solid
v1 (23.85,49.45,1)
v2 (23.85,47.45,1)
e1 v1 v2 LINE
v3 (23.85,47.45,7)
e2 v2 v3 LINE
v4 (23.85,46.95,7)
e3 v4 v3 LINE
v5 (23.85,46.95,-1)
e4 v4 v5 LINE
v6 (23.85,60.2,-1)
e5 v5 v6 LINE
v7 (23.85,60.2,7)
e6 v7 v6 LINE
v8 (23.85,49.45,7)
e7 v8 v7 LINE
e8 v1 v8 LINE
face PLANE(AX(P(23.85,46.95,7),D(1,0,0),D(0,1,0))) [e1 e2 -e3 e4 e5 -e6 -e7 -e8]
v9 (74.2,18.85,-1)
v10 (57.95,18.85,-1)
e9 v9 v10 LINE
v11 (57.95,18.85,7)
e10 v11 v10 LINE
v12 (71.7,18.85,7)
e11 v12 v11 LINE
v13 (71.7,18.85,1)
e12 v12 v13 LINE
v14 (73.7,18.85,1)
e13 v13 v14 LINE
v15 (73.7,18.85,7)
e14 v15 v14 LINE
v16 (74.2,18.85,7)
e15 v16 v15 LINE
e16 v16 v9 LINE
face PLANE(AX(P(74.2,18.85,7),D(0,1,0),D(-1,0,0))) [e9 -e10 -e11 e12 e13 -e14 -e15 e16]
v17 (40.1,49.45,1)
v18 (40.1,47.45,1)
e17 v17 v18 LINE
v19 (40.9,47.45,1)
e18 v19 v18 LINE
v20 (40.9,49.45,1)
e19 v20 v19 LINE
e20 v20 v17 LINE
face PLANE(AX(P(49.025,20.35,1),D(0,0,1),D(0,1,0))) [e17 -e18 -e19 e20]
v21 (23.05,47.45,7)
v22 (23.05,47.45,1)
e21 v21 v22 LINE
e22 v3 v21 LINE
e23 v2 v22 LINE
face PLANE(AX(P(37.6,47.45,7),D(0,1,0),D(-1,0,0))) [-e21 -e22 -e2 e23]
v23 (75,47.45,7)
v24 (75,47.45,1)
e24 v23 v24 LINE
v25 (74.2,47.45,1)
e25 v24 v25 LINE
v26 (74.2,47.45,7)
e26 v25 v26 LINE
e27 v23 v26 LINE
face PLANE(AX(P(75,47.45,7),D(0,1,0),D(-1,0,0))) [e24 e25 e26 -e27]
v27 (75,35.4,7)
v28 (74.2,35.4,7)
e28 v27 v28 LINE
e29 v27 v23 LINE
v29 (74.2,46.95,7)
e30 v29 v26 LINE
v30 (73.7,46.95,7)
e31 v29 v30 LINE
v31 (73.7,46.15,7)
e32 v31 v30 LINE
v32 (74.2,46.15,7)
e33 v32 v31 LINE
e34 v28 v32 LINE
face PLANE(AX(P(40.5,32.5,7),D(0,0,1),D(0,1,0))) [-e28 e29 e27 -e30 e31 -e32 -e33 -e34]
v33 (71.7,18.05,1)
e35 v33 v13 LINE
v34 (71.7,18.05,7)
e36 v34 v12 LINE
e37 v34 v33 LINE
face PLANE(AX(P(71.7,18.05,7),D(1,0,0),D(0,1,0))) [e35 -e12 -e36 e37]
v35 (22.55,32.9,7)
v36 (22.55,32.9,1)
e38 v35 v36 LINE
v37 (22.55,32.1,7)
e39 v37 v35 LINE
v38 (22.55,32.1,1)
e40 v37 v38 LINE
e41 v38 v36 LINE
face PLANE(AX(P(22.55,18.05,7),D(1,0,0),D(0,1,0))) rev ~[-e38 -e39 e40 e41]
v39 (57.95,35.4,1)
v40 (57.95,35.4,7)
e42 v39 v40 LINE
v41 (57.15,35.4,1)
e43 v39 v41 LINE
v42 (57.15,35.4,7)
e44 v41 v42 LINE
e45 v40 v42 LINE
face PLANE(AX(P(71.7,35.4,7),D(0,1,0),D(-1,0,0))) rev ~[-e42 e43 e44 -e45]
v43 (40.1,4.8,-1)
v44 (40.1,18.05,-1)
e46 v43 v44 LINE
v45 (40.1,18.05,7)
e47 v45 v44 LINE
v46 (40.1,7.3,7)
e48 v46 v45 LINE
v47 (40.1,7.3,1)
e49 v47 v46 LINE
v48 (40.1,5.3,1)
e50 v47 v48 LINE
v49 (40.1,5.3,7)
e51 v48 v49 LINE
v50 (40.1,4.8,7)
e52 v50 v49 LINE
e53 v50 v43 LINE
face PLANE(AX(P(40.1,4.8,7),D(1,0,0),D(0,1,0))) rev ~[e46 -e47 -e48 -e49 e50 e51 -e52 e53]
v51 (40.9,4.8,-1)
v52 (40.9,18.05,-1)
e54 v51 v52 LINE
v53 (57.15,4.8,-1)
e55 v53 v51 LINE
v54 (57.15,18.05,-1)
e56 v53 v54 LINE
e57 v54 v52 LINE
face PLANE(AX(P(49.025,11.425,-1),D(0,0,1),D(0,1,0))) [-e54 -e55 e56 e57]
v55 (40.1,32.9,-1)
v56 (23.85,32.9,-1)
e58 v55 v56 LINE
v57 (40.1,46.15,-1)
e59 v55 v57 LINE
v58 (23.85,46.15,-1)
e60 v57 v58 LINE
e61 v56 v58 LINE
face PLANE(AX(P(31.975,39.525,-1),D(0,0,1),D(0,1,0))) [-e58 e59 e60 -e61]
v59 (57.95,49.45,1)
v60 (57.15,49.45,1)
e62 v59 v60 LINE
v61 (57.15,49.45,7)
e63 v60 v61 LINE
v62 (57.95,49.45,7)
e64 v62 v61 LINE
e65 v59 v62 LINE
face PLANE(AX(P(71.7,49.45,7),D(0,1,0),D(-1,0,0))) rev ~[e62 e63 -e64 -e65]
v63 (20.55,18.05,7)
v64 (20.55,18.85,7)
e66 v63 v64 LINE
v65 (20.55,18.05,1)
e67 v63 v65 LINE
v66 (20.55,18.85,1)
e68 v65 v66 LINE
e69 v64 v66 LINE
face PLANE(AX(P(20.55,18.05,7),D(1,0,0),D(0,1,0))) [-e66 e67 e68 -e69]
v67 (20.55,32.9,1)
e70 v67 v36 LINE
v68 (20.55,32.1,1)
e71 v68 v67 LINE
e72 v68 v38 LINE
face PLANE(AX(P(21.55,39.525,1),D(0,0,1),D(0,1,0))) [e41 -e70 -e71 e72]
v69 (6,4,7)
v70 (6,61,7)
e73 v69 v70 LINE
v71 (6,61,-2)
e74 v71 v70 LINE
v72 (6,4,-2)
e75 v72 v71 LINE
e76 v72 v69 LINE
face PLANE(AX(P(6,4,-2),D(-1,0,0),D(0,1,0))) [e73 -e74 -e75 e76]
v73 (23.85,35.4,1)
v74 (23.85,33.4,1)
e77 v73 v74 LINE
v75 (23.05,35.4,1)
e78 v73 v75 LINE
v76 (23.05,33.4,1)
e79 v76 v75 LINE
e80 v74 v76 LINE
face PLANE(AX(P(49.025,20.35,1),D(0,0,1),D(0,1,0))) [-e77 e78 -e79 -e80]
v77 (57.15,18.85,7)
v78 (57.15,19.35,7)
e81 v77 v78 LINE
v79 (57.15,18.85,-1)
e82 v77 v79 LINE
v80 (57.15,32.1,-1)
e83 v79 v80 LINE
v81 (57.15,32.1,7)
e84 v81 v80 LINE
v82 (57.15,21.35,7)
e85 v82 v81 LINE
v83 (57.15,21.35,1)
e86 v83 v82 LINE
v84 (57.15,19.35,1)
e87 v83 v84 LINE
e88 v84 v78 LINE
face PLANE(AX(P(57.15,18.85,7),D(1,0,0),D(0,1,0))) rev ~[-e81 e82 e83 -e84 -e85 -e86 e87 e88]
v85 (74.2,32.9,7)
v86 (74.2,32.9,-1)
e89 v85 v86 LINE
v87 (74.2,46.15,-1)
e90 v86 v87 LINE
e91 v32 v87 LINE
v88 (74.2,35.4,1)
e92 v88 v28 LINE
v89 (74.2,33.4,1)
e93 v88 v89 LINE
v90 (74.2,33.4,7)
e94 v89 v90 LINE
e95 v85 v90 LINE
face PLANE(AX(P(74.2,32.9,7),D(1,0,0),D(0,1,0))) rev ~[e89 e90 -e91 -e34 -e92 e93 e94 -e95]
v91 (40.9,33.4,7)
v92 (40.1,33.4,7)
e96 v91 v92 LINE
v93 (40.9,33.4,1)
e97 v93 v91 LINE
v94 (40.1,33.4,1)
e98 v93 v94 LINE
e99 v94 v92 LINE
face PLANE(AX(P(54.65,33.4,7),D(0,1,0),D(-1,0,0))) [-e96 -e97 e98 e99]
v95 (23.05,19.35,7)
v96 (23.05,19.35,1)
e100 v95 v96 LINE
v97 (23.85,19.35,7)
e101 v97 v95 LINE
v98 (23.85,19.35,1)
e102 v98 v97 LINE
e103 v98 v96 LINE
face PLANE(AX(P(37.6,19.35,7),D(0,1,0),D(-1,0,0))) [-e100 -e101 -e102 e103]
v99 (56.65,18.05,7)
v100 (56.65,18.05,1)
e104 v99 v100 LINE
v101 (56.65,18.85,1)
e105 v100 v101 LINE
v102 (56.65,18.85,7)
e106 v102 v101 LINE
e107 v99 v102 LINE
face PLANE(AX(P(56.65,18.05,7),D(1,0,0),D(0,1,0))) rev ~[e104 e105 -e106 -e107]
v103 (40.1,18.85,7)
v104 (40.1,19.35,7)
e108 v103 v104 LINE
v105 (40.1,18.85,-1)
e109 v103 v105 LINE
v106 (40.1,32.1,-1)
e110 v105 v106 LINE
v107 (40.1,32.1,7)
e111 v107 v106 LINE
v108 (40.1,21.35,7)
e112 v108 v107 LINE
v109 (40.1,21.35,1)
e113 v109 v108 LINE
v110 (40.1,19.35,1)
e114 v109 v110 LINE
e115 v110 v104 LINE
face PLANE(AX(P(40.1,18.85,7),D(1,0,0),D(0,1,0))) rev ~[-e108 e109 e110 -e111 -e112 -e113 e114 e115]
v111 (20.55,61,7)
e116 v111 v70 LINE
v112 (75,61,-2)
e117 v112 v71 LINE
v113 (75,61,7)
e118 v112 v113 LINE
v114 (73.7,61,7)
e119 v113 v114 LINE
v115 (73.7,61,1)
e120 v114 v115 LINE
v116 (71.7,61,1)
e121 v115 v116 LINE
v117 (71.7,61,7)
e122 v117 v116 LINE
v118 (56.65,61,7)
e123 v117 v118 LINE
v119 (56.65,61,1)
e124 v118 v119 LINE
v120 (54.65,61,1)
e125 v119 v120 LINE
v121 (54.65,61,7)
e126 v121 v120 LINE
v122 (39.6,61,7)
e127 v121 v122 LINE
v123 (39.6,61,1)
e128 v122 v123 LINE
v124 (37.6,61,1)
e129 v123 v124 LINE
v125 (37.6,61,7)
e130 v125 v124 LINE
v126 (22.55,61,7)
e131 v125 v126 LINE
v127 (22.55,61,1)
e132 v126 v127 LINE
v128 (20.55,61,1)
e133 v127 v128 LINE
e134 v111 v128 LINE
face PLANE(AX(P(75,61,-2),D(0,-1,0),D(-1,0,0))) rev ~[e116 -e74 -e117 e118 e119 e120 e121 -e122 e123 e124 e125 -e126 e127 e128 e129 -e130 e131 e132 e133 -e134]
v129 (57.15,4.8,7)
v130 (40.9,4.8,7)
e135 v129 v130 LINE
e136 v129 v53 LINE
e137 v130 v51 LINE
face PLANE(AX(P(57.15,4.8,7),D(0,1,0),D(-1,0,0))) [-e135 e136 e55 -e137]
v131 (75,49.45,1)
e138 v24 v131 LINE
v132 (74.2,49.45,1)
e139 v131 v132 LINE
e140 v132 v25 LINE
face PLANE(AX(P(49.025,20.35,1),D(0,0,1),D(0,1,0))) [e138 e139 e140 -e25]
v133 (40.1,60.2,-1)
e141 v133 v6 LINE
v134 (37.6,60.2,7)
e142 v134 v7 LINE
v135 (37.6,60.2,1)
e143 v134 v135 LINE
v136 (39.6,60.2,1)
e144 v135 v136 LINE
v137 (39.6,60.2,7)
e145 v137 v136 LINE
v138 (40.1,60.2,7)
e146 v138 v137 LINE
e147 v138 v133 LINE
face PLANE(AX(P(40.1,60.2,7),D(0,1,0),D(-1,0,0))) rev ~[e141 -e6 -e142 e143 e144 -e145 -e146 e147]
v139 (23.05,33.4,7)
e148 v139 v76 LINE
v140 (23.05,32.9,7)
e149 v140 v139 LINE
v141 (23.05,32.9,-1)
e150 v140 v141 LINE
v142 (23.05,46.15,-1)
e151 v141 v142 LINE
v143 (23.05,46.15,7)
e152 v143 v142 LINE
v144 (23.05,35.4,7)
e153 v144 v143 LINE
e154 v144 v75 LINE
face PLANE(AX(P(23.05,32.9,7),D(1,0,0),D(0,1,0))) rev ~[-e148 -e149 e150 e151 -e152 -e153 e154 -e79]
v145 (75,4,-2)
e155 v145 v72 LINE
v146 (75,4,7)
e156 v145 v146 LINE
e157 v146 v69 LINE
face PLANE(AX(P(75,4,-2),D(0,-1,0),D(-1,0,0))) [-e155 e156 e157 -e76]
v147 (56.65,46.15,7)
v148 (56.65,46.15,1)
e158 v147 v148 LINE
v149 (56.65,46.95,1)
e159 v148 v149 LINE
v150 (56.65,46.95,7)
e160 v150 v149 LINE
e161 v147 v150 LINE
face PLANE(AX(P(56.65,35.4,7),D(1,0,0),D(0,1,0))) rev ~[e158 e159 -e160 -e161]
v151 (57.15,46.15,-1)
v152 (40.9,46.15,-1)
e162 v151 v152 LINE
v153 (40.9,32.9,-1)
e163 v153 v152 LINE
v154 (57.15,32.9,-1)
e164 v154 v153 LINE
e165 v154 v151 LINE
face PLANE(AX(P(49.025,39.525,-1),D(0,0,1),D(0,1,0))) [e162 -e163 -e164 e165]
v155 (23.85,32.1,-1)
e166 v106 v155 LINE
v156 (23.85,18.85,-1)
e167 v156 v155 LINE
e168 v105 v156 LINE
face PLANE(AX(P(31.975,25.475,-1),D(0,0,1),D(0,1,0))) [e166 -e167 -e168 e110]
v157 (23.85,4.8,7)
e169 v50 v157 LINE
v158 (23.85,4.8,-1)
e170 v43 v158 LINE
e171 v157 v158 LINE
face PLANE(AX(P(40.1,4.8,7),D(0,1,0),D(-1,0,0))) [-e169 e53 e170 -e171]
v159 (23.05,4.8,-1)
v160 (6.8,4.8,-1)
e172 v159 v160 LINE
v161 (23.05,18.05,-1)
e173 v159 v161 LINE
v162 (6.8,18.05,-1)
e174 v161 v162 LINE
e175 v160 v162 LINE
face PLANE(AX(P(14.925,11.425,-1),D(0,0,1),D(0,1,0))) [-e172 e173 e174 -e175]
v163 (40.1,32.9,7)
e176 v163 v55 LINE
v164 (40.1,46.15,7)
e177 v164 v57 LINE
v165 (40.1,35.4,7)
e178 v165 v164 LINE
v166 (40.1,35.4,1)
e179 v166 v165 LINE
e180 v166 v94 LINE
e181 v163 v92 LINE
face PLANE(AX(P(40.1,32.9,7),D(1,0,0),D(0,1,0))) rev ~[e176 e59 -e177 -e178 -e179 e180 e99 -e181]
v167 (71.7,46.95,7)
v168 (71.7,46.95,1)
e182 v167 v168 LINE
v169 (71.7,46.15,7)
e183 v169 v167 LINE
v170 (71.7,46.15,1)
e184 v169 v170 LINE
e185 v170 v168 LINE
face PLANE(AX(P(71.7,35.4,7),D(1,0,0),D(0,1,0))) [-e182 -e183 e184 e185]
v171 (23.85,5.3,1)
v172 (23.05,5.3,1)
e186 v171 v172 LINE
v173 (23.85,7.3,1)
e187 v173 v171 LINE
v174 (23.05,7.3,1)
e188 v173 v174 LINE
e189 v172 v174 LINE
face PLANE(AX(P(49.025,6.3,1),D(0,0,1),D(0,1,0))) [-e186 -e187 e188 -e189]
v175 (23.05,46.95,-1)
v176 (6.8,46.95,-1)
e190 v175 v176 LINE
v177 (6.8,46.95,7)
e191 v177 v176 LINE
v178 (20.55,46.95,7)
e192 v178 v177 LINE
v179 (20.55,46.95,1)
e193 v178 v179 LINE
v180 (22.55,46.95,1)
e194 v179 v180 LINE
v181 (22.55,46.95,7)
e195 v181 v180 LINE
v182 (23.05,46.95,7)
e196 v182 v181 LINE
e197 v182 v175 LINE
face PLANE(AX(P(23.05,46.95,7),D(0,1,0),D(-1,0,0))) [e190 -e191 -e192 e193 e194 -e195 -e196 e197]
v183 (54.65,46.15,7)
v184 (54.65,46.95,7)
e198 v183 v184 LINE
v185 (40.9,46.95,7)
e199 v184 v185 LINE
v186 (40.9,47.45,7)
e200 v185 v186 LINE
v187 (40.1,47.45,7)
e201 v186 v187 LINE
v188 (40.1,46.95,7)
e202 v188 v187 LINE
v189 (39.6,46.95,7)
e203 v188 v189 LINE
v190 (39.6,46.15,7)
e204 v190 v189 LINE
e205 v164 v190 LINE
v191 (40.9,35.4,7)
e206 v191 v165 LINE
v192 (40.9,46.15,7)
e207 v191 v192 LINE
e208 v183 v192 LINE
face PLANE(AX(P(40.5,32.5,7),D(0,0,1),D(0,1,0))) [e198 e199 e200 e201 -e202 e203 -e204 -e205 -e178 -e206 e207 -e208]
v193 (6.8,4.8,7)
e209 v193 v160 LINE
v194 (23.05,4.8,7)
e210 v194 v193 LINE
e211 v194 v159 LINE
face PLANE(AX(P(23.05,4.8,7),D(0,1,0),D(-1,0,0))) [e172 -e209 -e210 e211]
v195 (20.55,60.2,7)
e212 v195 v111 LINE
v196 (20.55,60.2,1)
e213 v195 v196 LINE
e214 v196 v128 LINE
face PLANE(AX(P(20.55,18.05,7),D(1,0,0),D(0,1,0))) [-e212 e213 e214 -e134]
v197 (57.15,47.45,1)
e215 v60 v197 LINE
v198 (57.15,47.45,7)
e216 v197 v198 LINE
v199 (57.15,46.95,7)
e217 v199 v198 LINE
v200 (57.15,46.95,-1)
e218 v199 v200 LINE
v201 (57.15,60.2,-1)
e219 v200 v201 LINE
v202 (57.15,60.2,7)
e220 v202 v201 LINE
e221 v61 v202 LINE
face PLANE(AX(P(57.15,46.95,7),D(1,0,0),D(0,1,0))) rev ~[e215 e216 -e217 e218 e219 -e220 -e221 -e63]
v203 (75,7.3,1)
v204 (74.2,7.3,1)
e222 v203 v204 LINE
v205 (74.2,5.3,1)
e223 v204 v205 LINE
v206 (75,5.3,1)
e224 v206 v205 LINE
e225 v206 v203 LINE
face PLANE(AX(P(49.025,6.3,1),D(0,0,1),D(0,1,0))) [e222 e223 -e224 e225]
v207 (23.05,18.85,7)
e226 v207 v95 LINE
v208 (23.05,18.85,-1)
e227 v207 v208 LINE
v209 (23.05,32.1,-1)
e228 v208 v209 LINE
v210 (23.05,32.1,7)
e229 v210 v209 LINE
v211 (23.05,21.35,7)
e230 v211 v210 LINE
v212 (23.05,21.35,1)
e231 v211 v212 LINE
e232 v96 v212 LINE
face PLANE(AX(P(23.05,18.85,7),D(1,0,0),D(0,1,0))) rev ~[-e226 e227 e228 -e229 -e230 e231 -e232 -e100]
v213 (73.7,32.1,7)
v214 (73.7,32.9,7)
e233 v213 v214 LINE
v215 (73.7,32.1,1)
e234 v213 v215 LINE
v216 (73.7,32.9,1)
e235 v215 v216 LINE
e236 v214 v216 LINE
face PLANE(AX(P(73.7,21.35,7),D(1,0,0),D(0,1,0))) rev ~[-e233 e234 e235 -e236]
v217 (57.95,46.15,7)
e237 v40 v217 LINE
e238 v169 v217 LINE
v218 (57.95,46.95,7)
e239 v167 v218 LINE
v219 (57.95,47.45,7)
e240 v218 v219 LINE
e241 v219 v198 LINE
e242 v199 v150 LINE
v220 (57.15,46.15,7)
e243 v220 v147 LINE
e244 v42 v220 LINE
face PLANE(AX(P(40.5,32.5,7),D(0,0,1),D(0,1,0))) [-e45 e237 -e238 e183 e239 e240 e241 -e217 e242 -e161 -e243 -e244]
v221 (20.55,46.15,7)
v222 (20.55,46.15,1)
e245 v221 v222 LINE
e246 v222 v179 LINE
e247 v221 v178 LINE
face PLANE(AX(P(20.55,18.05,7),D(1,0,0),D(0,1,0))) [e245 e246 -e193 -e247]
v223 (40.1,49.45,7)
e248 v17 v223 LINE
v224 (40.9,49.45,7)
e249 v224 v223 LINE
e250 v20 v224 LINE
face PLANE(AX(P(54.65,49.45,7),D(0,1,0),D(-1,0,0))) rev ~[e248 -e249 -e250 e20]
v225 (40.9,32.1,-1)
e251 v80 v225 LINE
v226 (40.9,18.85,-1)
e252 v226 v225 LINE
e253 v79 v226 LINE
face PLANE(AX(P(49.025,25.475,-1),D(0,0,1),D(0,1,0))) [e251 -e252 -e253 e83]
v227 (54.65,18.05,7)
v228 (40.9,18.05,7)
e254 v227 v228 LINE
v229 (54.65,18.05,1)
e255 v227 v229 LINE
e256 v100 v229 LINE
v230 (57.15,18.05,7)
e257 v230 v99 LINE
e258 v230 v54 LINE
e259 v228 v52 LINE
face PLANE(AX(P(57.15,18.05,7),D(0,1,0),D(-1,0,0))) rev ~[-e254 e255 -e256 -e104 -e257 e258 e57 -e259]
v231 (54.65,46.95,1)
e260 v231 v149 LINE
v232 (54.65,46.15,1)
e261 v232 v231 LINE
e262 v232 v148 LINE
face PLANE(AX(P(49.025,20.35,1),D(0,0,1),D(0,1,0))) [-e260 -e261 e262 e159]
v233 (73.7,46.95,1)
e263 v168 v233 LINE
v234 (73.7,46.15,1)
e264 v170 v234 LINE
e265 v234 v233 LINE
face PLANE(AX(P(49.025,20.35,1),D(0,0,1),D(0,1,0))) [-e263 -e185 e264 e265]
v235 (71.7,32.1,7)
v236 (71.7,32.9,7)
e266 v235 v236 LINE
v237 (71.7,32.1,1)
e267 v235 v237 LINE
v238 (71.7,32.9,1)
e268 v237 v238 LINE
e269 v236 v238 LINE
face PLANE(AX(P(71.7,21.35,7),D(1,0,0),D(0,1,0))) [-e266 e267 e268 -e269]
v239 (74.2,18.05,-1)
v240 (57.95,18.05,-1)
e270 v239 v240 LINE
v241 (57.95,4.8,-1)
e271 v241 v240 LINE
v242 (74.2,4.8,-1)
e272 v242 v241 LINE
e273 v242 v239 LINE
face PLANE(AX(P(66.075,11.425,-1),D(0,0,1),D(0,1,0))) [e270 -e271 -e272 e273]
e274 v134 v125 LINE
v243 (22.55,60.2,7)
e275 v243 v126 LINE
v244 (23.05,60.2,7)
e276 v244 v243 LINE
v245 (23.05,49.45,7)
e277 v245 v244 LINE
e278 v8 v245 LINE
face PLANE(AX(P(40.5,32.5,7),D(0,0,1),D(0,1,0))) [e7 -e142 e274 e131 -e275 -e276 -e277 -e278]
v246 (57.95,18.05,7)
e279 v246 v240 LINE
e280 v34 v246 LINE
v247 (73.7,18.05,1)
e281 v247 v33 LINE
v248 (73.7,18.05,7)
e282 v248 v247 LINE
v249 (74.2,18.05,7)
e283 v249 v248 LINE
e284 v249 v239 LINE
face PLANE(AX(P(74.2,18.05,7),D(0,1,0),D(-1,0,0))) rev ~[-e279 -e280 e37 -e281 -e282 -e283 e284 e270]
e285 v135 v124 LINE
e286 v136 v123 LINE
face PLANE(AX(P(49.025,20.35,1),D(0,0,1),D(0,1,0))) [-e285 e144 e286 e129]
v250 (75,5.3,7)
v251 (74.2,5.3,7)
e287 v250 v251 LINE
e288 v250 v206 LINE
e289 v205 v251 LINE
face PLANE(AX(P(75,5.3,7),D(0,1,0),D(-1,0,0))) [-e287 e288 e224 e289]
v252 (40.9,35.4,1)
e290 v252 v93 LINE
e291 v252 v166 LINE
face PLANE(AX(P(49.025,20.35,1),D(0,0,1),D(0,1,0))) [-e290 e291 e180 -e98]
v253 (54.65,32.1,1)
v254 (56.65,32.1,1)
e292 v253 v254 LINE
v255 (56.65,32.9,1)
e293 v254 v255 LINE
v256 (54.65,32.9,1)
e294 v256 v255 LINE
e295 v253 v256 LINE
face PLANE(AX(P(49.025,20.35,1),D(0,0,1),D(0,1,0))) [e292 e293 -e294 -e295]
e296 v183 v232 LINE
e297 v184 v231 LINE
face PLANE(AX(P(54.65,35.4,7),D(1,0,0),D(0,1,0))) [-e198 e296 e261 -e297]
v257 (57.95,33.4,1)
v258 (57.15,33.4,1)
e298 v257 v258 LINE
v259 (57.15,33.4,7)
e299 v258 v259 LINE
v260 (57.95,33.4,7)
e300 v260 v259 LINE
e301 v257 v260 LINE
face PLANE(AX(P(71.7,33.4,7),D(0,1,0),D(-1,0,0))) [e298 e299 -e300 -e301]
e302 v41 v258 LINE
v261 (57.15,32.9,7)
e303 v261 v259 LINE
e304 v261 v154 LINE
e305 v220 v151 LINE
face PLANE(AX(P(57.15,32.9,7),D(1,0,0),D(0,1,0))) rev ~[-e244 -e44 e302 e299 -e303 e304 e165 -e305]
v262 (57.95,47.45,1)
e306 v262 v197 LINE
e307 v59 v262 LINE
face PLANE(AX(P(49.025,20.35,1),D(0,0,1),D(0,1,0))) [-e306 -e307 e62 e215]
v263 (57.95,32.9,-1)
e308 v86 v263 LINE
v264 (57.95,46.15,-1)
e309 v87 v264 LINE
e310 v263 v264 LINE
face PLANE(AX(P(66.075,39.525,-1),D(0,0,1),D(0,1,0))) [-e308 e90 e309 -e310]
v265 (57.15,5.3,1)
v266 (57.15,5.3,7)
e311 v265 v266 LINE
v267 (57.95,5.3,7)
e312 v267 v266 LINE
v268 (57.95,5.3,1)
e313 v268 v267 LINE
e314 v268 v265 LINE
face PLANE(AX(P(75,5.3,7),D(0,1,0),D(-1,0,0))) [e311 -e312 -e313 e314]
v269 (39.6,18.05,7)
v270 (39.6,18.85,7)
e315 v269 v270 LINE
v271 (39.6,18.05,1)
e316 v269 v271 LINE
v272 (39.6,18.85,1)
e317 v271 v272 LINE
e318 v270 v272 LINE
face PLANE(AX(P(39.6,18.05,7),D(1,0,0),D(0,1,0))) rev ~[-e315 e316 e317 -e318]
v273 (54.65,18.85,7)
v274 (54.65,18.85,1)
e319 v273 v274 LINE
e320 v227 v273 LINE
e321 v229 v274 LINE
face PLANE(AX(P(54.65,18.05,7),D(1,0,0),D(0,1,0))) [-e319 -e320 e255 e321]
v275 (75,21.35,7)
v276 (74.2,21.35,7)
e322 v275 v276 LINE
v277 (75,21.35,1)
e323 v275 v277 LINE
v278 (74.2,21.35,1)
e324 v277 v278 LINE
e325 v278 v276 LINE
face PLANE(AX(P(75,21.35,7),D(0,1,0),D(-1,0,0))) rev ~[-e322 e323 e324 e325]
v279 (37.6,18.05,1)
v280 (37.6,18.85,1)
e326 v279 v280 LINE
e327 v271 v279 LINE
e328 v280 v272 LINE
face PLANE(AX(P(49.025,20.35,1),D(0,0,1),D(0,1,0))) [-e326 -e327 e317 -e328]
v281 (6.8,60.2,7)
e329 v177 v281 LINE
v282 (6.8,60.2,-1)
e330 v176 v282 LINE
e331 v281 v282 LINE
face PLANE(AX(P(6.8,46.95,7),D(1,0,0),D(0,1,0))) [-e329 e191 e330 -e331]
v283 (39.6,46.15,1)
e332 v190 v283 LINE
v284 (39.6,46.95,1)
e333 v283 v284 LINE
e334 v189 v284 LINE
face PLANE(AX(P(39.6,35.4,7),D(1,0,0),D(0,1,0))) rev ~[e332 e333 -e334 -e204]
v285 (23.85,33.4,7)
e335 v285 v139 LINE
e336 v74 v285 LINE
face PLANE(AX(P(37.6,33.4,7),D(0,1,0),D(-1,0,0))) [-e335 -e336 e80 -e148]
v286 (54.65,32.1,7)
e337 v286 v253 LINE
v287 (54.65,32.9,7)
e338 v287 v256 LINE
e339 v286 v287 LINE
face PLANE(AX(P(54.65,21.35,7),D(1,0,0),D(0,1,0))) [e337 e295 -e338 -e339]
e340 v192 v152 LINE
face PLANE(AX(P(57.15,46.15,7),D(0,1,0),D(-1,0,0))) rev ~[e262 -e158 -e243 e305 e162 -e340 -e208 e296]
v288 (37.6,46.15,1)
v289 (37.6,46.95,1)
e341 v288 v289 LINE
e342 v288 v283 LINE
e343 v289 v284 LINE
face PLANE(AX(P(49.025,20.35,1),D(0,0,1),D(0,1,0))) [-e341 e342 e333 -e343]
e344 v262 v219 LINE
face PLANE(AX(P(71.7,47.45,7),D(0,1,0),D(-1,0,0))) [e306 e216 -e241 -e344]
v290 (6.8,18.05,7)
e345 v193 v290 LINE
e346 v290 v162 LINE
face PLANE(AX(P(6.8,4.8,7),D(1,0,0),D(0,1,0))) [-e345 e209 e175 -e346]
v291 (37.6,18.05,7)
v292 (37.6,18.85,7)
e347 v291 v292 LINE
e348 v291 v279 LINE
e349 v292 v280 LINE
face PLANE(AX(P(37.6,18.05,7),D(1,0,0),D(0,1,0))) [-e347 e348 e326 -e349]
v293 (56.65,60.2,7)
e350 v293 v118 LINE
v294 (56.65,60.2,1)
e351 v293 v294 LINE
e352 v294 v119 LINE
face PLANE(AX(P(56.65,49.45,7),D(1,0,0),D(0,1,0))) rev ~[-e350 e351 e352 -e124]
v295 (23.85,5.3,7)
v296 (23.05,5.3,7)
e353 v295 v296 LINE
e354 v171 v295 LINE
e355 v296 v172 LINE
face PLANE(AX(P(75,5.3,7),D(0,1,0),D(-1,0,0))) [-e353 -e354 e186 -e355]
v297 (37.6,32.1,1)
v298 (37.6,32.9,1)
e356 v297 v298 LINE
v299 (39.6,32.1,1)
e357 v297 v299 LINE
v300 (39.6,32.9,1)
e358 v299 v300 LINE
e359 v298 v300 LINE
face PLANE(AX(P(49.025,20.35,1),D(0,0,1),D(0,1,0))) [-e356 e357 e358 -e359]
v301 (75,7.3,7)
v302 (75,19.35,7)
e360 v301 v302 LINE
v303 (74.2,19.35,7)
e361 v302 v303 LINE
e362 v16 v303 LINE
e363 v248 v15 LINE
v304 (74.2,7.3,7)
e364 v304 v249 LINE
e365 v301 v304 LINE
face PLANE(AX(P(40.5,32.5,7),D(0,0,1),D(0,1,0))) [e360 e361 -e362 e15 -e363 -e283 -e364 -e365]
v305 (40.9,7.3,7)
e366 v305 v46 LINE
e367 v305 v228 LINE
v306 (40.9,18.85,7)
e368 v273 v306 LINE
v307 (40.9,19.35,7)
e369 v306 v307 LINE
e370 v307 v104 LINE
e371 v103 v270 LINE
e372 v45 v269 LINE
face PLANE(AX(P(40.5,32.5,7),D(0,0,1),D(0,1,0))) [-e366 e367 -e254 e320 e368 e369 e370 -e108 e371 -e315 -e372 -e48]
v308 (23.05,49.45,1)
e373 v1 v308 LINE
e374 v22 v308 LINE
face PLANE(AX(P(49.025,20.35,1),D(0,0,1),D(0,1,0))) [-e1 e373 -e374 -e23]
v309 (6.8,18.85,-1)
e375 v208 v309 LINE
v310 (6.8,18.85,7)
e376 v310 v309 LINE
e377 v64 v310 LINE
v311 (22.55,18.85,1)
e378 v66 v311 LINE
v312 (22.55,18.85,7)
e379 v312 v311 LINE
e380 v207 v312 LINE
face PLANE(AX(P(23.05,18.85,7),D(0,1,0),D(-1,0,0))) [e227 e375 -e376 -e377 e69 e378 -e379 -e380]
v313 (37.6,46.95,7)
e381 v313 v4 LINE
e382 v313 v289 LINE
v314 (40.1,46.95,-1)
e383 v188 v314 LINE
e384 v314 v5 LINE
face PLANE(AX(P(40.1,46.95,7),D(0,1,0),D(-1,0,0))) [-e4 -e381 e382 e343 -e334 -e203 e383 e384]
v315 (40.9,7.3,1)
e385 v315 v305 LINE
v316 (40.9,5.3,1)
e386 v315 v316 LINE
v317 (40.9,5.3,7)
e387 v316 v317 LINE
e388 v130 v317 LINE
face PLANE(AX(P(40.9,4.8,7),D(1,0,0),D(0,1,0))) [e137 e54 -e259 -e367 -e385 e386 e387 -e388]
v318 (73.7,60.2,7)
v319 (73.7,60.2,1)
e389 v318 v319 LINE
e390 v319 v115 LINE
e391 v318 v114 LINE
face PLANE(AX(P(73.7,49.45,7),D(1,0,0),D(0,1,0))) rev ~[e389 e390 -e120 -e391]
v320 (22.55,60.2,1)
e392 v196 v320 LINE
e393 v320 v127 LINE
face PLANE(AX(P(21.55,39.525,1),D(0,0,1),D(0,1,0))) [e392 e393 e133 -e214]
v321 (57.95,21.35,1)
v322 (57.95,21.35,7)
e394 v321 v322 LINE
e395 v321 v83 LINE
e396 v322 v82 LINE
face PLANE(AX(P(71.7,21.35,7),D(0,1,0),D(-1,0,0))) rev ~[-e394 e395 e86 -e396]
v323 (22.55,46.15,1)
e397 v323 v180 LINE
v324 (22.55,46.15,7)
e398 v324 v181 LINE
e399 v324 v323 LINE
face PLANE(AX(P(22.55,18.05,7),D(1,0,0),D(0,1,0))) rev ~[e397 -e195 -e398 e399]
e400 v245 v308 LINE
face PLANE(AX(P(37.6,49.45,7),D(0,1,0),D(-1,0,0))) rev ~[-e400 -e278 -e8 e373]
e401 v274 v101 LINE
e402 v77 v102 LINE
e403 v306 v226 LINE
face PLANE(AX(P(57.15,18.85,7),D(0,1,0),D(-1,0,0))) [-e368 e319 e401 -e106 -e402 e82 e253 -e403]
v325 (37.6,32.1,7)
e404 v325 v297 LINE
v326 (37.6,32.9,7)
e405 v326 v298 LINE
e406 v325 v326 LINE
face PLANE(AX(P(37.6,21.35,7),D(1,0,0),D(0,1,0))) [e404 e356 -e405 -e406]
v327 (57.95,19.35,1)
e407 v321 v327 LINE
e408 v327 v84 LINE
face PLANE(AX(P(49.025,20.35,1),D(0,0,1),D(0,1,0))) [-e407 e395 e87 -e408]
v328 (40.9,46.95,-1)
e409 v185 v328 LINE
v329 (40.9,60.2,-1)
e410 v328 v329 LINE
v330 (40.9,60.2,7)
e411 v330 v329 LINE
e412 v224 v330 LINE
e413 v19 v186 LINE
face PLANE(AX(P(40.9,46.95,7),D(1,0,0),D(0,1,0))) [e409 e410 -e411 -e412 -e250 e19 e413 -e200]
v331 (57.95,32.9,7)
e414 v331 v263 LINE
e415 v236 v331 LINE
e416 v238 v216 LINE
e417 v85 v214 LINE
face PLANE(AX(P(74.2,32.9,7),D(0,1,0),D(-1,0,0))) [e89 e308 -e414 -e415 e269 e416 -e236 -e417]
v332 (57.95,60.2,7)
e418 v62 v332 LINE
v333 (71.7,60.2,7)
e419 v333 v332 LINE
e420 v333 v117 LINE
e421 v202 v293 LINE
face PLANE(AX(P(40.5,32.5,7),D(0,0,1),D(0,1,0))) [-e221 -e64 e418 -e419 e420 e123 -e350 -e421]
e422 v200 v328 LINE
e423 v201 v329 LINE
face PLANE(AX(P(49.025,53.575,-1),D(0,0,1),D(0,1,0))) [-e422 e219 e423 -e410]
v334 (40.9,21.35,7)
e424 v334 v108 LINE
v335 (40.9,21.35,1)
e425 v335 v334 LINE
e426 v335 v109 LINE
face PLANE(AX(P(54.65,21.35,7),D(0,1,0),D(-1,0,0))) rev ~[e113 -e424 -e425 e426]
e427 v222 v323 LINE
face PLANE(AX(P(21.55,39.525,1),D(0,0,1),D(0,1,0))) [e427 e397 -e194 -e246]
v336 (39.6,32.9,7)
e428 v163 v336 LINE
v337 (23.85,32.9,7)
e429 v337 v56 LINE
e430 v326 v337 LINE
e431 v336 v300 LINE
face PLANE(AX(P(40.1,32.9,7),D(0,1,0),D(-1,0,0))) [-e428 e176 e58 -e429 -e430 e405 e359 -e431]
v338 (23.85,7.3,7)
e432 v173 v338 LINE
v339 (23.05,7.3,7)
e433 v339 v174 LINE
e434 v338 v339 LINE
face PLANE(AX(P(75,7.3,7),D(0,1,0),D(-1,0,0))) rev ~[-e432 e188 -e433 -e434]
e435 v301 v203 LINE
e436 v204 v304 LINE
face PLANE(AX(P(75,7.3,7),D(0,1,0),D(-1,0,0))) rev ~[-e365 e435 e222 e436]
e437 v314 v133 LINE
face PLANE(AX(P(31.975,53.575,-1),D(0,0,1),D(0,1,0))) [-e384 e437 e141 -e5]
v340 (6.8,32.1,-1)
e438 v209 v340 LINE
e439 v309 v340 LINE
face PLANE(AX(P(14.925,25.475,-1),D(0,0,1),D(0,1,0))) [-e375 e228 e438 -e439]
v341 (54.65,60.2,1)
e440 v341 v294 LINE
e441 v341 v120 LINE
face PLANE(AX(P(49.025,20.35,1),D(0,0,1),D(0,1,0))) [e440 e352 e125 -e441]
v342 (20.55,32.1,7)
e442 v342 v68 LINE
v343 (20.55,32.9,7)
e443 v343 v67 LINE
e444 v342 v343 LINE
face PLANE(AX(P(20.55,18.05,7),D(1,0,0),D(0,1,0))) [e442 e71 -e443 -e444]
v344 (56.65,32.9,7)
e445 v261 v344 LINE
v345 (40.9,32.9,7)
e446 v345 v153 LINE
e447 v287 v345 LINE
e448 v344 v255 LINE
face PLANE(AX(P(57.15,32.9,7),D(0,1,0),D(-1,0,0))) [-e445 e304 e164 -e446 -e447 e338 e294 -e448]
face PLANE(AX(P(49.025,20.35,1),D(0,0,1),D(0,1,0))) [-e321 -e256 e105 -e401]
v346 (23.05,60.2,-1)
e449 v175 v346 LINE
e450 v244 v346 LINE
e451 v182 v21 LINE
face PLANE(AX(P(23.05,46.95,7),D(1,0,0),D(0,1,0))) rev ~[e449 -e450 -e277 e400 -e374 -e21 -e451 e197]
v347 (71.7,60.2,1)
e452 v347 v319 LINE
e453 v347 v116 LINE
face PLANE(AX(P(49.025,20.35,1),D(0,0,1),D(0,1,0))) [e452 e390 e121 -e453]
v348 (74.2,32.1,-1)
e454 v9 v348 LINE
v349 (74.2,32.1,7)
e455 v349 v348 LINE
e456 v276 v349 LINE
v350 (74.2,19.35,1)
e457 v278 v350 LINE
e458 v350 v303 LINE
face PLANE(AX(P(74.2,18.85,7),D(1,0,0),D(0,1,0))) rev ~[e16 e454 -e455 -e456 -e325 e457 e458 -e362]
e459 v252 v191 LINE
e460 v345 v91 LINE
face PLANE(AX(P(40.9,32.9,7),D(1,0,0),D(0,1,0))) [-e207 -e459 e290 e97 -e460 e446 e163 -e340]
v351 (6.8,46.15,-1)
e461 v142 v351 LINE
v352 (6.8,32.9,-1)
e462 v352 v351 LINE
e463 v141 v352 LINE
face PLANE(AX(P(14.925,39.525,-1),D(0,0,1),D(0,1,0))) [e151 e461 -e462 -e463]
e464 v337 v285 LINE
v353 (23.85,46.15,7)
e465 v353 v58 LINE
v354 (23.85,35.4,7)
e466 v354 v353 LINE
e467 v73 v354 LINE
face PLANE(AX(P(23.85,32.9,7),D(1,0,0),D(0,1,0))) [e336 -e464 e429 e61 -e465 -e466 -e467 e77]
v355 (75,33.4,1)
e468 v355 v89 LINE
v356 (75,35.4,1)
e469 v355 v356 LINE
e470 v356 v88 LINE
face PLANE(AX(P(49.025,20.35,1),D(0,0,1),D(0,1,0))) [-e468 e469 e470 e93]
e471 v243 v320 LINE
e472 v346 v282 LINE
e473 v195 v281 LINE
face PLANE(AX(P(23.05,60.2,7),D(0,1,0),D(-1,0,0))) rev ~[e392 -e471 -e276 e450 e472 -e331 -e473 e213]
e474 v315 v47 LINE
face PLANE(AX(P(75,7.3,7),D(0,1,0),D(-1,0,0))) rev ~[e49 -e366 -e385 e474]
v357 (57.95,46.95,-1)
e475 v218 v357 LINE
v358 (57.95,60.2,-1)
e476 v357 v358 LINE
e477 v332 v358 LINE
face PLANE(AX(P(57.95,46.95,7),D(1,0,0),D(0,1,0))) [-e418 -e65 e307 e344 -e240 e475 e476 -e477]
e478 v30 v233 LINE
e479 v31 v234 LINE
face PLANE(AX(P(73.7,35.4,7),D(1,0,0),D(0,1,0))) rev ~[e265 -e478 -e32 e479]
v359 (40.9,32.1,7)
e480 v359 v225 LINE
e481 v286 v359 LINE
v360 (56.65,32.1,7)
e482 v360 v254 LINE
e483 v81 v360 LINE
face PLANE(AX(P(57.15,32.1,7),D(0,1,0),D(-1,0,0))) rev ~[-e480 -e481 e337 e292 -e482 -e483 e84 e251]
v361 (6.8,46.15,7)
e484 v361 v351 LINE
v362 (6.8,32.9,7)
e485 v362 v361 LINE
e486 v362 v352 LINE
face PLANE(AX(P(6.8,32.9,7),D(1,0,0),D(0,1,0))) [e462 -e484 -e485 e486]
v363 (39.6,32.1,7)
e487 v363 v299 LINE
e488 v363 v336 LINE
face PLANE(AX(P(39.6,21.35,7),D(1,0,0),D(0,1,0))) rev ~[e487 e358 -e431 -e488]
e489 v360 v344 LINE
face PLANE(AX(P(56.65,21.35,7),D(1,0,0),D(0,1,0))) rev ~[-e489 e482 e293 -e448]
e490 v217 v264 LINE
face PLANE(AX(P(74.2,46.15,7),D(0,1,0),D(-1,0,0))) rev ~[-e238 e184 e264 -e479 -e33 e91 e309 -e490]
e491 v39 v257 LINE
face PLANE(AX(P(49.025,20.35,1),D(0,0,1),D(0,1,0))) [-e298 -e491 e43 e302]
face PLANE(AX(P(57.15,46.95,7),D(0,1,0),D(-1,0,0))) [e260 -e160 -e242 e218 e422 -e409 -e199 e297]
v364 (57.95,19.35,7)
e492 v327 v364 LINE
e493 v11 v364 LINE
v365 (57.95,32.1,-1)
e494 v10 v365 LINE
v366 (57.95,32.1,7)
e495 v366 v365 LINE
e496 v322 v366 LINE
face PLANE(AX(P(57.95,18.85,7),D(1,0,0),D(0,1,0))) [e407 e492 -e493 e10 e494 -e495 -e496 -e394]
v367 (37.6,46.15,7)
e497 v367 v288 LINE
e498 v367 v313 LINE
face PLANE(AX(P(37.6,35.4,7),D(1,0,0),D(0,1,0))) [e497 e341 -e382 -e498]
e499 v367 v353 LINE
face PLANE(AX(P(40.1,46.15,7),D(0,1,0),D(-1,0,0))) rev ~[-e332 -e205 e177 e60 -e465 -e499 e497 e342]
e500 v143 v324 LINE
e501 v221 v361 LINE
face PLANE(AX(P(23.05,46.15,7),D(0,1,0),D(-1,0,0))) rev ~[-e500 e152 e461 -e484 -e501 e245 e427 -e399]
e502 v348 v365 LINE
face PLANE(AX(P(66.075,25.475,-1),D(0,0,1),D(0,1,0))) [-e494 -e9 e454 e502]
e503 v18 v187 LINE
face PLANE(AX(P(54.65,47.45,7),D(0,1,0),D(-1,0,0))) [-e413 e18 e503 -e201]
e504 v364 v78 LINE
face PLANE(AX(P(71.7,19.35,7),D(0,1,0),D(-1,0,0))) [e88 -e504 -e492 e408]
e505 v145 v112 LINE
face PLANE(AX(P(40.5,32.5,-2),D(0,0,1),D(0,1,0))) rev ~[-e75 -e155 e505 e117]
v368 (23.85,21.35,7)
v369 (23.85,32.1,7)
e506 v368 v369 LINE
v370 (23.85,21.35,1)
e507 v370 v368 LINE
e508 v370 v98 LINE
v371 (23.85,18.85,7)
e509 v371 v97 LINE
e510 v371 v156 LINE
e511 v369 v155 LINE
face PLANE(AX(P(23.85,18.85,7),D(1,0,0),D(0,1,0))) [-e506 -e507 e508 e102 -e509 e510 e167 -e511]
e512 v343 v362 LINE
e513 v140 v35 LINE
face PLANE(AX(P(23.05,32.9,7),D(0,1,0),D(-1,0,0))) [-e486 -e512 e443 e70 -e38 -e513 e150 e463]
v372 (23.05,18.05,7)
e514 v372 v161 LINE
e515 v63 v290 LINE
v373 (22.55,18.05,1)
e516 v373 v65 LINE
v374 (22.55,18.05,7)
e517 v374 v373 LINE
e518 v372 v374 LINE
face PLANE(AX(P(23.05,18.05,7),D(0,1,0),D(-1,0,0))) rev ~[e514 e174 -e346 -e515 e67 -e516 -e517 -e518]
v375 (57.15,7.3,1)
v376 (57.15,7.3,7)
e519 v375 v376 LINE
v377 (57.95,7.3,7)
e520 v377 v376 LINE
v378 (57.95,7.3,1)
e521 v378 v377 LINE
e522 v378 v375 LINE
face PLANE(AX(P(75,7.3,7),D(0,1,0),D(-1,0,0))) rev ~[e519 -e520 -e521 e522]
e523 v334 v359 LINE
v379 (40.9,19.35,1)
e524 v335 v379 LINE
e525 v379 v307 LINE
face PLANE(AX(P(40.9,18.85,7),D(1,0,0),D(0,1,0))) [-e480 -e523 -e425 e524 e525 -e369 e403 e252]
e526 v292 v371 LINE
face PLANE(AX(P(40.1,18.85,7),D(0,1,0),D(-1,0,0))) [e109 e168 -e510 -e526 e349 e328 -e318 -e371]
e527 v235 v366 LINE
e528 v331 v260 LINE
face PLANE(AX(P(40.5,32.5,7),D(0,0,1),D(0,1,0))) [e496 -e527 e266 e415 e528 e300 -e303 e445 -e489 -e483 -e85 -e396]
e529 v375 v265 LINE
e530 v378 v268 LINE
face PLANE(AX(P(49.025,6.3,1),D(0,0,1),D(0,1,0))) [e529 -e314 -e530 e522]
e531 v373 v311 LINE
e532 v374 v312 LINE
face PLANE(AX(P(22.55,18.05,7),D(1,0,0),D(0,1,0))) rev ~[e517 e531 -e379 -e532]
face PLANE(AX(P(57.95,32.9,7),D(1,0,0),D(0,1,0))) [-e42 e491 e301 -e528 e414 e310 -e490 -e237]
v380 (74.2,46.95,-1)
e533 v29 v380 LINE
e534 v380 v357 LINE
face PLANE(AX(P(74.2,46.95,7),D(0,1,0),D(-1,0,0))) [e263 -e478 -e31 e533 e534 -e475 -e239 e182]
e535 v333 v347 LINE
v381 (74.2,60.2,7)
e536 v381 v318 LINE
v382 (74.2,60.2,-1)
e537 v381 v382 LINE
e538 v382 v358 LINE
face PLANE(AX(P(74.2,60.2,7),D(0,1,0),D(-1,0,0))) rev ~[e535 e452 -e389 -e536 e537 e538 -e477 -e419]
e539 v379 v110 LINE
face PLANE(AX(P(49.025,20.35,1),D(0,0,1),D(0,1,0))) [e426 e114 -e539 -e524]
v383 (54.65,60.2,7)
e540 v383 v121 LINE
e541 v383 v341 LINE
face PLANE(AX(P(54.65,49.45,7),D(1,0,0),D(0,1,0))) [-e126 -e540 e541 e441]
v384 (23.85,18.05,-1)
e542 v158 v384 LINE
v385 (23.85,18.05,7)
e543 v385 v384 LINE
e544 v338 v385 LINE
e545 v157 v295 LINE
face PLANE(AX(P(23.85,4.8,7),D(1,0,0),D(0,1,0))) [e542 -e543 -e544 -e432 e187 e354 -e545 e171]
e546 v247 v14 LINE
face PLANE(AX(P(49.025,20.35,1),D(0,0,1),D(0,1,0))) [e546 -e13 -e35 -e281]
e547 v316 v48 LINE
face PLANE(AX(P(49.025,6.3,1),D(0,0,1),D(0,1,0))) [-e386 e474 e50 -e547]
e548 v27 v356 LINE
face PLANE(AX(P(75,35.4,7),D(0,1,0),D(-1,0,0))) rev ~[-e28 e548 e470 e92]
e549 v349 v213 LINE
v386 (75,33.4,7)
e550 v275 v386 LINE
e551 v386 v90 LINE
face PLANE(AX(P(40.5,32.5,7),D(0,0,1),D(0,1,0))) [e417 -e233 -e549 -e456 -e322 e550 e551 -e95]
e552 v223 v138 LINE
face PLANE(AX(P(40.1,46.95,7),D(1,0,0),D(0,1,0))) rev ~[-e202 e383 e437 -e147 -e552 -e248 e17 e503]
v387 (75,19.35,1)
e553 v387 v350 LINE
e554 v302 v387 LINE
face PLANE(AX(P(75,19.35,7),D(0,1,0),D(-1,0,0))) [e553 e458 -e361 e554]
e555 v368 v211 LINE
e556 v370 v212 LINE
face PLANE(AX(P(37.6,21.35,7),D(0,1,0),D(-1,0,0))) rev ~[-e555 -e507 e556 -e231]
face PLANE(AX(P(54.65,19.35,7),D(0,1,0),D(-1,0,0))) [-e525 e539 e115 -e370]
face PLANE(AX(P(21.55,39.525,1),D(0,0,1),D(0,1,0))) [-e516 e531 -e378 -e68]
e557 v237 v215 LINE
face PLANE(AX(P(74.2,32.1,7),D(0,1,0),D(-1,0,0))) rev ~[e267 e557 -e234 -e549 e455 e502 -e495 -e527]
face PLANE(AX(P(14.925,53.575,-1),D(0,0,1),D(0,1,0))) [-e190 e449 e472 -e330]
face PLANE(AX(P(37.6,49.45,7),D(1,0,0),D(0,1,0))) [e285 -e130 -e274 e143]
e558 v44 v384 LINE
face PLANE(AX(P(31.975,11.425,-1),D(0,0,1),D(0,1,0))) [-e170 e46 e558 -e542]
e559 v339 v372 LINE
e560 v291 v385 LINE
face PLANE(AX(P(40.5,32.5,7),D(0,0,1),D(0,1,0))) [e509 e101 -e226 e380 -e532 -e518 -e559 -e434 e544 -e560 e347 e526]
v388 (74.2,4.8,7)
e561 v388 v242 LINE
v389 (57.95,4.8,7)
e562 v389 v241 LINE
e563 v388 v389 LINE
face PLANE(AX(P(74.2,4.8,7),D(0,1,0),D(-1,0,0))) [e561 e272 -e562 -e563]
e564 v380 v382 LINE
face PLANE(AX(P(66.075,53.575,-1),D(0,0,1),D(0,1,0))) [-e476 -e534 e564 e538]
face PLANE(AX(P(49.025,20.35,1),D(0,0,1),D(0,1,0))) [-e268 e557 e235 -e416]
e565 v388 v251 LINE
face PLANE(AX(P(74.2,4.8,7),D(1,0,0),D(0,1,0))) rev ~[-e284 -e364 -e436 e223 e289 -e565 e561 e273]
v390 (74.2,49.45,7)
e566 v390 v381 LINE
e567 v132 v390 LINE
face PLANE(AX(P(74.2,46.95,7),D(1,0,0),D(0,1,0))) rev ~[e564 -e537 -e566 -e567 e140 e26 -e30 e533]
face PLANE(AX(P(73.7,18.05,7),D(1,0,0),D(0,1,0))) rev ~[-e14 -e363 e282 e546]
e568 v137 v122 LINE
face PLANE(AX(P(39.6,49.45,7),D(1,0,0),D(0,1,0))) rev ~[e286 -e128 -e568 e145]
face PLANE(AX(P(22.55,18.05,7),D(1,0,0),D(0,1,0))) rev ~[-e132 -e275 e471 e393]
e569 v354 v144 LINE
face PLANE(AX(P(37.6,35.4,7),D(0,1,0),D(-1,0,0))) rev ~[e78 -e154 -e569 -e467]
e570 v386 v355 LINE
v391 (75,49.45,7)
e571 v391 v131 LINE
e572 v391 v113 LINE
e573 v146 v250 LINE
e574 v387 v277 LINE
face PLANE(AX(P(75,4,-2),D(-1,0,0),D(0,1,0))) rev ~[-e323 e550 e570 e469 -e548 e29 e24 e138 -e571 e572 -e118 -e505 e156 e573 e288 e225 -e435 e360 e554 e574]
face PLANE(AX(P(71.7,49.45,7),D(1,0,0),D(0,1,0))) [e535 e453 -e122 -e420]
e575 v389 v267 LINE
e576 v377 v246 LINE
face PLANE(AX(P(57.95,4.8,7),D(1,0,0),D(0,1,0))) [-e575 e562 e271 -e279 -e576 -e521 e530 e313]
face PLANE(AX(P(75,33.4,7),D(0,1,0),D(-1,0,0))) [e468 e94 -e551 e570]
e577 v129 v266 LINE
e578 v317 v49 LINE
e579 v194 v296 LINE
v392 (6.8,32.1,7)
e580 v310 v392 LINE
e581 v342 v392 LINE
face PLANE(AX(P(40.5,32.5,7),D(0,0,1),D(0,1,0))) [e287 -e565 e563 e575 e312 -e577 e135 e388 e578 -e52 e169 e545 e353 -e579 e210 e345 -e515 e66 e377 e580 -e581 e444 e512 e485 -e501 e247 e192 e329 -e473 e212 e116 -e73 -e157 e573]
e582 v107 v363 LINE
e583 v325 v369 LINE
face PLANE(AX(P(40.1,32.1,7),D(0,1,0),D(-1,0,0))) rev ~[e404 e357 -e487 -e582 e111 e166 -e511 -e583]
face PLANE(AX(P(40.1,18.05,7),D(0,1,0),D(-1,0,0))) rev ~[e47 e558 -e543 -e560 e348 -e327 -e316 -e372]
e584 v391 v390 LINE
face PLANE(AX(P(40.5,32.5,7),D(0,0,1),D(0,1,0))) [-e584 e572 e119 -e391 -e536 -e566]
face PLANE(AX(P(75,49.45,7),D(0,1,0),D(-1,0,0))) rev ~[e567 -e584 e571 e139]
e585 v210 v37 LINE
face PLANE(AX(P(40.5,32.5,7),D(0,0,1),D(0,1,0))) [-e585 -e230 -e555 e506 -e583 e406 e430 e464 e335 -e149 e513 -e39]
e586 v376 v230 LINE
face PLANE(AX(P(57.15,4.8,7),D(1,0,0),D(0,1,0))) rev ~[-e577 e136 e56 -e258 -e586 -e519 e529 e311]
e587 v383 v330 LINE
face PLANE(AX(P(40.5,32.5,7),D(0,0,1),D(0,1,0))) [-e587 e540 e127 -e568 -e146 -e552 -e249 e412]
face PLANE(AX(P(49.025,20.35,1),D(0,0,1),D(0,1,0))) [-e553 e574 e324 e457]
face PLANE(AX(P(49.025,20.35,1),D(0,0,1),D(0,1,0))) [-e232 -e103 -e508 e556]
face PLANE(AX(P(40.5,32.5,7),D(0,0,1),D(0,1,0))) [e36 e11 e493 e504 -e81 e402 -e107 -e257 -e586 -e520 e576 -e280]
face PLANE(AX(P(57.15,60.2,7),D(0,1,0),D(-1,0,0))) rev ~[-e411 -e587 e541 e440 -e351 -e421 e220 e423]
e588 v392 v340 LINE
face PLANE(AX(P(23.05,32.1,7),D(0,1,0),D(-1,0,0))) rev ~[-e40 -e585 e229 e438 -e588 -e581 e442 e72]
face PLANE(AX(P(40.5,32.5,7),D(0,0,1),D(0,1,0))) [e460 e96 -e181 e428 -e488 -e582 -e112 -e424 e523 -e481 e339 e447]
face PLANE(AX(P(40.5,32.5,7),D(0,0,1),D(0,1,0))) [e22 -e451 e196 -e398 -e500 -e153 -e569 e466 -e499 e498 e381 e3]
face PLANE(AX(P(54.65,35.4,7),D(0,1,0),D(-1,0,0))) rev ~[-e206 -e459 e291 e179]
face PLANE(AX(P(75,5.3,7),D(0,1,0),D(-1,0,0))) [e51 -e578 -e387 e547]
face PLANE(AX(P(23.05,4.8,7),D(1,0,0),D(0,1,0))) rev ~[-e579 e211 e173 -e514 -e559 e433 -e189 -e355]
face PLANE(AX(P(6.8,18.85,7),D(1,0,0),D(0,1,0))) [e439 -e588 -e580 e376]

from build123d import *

# Parameters (mm, degrees)
SKETCH_W             = 57
SKETCH_H             = 69
PAD_DEPTH            = 9
SKETCH001_W          = 13.25
SKETCH001_H          = 16.25
POCKET_DEPTH         = 8
SKETCH002_W          = 2
SKETCH002_H          = 51.95
SKETCH002_W_2        = 42.95
SKETCH002_H_2        = 2
POCKET015_DEPTH      = 6
BODY_PLACEMENT_ANGLE = 90


with BuildPart() as part:
    # Sketch → Pad (new body)
    with BuildSketch(Plane.XY):
        with Locations((28.5, 34.5)):
            Rectangle(SKETCH_W, SKETCH_H)
    extrude(amount=PAD_DEPTH)

    # Sketch001 (on Face6 of Pad) → Pocket (cut)
    with BuildSketch(Plane.XY.offset(9)):
        with Locations((7.425, 60.075)):
            Rectangle(SKETCH001_W, SKETCH001_H)
        with Locations((21.475, 60.075)):
            Rectangle(SKETCH001_W, SKETCH001_H)
        with Locations((35.525, 60.075)):
            Rectangle(SKETCH001_W, SKETCH001_H)
        with Locations((49.575, 60.075)):
            Rectangle(SKETCH001_W, SKETCH001_H)
        with Locations((7.425, 43.025)):
            Rectangle(SKETCH001_W, SKETCH001_H)
        with Locations((7.425, 25.975)):
            Rectangle(SKETCH001_W, SKETCH001_H)
        with Locations((7.425, 8.925)):
            Rectangle(SKETCH001_W, SKETCH001_H)
        with Locations((21.475, 43.025)):
            Rectangle(SKETCH001_W, SKETCH001_H)
        with Locations((35.525, 43.025)):
            Rectangle(SKETCH001_W, SKETCH001_H)
        with Locations((49.575, 43.025)):
            Rectangle(SKETCH001_W, SKETCH001_H)
        with Locations((21.475, 25.975)):
            Rectangle(SKETCH001_W, SKETCH001_H)
        with Locations((35.525, 25.975)):
            Rectangle(SKETCH001_W, SKETCH001_H)
        with Locations((49.575, 25.975)):
            Rectangle(SKETCH001_W, SKETCH001_H)
        with Locations((21.475, 8.925)):
            Rectangle(SKETCH001_W, SKETCH001_H)
        with Locations((35.525, 8.925)):
            Rectangle(SKETCH001_W, SKETCH001_H)
        with Locations((49.575, 8.925)):
            Rectangle(SKETCH001_W, SKETCH001_H)
    extrude(amount=-POCKET_DEPTH, mode=Mode.SUBTRACT)

    # Sketch002 (on Face5 of Pocket) → Pocket015 (cut)
    with BuildSketch(Plane.XY.offset(9)):
        with Locations((2.3, 25.975)):
            Rectangle(SKETCH002_W, SKETCH002_H)
        with Locations((16.35, 25.975)):
            Rectangle(SKETCH002_W, SKETCH002_H)
        with Locations((30.4, 25.975)):
            Rectangle(SKETCH002_W, SKETCH002_H)
        with Locations((44.45, 25.975)):
            Rectangle(SKETCH002_W, SKETCH002_H)
        with Locations((35.525, 53.45)):
            Rectangle(SKETCH002_W_2, SKETCH002_H_2)
        with Locations((35.525, 36.4)):
            Rectangle(SKETCH002_W_2, SKETCH002_H_2)
        with Locations((35.525, 19.35)):
            Rectangle(SKETCH002_W_2, SKETCH002_H_2)
        with Locations((35.525, 2.3)):
            Rectangle(SKETCH002_W_2, SKETCH002_H_2)
    extrude(amount=-POCKET015_DEPTH, mode=Mode.SUBTRACT)


with BuildPart() as part_1:
    # Body placement: moved
    add(part.part.moved(Location((75, 4, -2))).rotate(Axis((75, 4, -2), (0, 0, 1)), BODY_PLACEMENT_ANGLE))


solid = part_1.part
